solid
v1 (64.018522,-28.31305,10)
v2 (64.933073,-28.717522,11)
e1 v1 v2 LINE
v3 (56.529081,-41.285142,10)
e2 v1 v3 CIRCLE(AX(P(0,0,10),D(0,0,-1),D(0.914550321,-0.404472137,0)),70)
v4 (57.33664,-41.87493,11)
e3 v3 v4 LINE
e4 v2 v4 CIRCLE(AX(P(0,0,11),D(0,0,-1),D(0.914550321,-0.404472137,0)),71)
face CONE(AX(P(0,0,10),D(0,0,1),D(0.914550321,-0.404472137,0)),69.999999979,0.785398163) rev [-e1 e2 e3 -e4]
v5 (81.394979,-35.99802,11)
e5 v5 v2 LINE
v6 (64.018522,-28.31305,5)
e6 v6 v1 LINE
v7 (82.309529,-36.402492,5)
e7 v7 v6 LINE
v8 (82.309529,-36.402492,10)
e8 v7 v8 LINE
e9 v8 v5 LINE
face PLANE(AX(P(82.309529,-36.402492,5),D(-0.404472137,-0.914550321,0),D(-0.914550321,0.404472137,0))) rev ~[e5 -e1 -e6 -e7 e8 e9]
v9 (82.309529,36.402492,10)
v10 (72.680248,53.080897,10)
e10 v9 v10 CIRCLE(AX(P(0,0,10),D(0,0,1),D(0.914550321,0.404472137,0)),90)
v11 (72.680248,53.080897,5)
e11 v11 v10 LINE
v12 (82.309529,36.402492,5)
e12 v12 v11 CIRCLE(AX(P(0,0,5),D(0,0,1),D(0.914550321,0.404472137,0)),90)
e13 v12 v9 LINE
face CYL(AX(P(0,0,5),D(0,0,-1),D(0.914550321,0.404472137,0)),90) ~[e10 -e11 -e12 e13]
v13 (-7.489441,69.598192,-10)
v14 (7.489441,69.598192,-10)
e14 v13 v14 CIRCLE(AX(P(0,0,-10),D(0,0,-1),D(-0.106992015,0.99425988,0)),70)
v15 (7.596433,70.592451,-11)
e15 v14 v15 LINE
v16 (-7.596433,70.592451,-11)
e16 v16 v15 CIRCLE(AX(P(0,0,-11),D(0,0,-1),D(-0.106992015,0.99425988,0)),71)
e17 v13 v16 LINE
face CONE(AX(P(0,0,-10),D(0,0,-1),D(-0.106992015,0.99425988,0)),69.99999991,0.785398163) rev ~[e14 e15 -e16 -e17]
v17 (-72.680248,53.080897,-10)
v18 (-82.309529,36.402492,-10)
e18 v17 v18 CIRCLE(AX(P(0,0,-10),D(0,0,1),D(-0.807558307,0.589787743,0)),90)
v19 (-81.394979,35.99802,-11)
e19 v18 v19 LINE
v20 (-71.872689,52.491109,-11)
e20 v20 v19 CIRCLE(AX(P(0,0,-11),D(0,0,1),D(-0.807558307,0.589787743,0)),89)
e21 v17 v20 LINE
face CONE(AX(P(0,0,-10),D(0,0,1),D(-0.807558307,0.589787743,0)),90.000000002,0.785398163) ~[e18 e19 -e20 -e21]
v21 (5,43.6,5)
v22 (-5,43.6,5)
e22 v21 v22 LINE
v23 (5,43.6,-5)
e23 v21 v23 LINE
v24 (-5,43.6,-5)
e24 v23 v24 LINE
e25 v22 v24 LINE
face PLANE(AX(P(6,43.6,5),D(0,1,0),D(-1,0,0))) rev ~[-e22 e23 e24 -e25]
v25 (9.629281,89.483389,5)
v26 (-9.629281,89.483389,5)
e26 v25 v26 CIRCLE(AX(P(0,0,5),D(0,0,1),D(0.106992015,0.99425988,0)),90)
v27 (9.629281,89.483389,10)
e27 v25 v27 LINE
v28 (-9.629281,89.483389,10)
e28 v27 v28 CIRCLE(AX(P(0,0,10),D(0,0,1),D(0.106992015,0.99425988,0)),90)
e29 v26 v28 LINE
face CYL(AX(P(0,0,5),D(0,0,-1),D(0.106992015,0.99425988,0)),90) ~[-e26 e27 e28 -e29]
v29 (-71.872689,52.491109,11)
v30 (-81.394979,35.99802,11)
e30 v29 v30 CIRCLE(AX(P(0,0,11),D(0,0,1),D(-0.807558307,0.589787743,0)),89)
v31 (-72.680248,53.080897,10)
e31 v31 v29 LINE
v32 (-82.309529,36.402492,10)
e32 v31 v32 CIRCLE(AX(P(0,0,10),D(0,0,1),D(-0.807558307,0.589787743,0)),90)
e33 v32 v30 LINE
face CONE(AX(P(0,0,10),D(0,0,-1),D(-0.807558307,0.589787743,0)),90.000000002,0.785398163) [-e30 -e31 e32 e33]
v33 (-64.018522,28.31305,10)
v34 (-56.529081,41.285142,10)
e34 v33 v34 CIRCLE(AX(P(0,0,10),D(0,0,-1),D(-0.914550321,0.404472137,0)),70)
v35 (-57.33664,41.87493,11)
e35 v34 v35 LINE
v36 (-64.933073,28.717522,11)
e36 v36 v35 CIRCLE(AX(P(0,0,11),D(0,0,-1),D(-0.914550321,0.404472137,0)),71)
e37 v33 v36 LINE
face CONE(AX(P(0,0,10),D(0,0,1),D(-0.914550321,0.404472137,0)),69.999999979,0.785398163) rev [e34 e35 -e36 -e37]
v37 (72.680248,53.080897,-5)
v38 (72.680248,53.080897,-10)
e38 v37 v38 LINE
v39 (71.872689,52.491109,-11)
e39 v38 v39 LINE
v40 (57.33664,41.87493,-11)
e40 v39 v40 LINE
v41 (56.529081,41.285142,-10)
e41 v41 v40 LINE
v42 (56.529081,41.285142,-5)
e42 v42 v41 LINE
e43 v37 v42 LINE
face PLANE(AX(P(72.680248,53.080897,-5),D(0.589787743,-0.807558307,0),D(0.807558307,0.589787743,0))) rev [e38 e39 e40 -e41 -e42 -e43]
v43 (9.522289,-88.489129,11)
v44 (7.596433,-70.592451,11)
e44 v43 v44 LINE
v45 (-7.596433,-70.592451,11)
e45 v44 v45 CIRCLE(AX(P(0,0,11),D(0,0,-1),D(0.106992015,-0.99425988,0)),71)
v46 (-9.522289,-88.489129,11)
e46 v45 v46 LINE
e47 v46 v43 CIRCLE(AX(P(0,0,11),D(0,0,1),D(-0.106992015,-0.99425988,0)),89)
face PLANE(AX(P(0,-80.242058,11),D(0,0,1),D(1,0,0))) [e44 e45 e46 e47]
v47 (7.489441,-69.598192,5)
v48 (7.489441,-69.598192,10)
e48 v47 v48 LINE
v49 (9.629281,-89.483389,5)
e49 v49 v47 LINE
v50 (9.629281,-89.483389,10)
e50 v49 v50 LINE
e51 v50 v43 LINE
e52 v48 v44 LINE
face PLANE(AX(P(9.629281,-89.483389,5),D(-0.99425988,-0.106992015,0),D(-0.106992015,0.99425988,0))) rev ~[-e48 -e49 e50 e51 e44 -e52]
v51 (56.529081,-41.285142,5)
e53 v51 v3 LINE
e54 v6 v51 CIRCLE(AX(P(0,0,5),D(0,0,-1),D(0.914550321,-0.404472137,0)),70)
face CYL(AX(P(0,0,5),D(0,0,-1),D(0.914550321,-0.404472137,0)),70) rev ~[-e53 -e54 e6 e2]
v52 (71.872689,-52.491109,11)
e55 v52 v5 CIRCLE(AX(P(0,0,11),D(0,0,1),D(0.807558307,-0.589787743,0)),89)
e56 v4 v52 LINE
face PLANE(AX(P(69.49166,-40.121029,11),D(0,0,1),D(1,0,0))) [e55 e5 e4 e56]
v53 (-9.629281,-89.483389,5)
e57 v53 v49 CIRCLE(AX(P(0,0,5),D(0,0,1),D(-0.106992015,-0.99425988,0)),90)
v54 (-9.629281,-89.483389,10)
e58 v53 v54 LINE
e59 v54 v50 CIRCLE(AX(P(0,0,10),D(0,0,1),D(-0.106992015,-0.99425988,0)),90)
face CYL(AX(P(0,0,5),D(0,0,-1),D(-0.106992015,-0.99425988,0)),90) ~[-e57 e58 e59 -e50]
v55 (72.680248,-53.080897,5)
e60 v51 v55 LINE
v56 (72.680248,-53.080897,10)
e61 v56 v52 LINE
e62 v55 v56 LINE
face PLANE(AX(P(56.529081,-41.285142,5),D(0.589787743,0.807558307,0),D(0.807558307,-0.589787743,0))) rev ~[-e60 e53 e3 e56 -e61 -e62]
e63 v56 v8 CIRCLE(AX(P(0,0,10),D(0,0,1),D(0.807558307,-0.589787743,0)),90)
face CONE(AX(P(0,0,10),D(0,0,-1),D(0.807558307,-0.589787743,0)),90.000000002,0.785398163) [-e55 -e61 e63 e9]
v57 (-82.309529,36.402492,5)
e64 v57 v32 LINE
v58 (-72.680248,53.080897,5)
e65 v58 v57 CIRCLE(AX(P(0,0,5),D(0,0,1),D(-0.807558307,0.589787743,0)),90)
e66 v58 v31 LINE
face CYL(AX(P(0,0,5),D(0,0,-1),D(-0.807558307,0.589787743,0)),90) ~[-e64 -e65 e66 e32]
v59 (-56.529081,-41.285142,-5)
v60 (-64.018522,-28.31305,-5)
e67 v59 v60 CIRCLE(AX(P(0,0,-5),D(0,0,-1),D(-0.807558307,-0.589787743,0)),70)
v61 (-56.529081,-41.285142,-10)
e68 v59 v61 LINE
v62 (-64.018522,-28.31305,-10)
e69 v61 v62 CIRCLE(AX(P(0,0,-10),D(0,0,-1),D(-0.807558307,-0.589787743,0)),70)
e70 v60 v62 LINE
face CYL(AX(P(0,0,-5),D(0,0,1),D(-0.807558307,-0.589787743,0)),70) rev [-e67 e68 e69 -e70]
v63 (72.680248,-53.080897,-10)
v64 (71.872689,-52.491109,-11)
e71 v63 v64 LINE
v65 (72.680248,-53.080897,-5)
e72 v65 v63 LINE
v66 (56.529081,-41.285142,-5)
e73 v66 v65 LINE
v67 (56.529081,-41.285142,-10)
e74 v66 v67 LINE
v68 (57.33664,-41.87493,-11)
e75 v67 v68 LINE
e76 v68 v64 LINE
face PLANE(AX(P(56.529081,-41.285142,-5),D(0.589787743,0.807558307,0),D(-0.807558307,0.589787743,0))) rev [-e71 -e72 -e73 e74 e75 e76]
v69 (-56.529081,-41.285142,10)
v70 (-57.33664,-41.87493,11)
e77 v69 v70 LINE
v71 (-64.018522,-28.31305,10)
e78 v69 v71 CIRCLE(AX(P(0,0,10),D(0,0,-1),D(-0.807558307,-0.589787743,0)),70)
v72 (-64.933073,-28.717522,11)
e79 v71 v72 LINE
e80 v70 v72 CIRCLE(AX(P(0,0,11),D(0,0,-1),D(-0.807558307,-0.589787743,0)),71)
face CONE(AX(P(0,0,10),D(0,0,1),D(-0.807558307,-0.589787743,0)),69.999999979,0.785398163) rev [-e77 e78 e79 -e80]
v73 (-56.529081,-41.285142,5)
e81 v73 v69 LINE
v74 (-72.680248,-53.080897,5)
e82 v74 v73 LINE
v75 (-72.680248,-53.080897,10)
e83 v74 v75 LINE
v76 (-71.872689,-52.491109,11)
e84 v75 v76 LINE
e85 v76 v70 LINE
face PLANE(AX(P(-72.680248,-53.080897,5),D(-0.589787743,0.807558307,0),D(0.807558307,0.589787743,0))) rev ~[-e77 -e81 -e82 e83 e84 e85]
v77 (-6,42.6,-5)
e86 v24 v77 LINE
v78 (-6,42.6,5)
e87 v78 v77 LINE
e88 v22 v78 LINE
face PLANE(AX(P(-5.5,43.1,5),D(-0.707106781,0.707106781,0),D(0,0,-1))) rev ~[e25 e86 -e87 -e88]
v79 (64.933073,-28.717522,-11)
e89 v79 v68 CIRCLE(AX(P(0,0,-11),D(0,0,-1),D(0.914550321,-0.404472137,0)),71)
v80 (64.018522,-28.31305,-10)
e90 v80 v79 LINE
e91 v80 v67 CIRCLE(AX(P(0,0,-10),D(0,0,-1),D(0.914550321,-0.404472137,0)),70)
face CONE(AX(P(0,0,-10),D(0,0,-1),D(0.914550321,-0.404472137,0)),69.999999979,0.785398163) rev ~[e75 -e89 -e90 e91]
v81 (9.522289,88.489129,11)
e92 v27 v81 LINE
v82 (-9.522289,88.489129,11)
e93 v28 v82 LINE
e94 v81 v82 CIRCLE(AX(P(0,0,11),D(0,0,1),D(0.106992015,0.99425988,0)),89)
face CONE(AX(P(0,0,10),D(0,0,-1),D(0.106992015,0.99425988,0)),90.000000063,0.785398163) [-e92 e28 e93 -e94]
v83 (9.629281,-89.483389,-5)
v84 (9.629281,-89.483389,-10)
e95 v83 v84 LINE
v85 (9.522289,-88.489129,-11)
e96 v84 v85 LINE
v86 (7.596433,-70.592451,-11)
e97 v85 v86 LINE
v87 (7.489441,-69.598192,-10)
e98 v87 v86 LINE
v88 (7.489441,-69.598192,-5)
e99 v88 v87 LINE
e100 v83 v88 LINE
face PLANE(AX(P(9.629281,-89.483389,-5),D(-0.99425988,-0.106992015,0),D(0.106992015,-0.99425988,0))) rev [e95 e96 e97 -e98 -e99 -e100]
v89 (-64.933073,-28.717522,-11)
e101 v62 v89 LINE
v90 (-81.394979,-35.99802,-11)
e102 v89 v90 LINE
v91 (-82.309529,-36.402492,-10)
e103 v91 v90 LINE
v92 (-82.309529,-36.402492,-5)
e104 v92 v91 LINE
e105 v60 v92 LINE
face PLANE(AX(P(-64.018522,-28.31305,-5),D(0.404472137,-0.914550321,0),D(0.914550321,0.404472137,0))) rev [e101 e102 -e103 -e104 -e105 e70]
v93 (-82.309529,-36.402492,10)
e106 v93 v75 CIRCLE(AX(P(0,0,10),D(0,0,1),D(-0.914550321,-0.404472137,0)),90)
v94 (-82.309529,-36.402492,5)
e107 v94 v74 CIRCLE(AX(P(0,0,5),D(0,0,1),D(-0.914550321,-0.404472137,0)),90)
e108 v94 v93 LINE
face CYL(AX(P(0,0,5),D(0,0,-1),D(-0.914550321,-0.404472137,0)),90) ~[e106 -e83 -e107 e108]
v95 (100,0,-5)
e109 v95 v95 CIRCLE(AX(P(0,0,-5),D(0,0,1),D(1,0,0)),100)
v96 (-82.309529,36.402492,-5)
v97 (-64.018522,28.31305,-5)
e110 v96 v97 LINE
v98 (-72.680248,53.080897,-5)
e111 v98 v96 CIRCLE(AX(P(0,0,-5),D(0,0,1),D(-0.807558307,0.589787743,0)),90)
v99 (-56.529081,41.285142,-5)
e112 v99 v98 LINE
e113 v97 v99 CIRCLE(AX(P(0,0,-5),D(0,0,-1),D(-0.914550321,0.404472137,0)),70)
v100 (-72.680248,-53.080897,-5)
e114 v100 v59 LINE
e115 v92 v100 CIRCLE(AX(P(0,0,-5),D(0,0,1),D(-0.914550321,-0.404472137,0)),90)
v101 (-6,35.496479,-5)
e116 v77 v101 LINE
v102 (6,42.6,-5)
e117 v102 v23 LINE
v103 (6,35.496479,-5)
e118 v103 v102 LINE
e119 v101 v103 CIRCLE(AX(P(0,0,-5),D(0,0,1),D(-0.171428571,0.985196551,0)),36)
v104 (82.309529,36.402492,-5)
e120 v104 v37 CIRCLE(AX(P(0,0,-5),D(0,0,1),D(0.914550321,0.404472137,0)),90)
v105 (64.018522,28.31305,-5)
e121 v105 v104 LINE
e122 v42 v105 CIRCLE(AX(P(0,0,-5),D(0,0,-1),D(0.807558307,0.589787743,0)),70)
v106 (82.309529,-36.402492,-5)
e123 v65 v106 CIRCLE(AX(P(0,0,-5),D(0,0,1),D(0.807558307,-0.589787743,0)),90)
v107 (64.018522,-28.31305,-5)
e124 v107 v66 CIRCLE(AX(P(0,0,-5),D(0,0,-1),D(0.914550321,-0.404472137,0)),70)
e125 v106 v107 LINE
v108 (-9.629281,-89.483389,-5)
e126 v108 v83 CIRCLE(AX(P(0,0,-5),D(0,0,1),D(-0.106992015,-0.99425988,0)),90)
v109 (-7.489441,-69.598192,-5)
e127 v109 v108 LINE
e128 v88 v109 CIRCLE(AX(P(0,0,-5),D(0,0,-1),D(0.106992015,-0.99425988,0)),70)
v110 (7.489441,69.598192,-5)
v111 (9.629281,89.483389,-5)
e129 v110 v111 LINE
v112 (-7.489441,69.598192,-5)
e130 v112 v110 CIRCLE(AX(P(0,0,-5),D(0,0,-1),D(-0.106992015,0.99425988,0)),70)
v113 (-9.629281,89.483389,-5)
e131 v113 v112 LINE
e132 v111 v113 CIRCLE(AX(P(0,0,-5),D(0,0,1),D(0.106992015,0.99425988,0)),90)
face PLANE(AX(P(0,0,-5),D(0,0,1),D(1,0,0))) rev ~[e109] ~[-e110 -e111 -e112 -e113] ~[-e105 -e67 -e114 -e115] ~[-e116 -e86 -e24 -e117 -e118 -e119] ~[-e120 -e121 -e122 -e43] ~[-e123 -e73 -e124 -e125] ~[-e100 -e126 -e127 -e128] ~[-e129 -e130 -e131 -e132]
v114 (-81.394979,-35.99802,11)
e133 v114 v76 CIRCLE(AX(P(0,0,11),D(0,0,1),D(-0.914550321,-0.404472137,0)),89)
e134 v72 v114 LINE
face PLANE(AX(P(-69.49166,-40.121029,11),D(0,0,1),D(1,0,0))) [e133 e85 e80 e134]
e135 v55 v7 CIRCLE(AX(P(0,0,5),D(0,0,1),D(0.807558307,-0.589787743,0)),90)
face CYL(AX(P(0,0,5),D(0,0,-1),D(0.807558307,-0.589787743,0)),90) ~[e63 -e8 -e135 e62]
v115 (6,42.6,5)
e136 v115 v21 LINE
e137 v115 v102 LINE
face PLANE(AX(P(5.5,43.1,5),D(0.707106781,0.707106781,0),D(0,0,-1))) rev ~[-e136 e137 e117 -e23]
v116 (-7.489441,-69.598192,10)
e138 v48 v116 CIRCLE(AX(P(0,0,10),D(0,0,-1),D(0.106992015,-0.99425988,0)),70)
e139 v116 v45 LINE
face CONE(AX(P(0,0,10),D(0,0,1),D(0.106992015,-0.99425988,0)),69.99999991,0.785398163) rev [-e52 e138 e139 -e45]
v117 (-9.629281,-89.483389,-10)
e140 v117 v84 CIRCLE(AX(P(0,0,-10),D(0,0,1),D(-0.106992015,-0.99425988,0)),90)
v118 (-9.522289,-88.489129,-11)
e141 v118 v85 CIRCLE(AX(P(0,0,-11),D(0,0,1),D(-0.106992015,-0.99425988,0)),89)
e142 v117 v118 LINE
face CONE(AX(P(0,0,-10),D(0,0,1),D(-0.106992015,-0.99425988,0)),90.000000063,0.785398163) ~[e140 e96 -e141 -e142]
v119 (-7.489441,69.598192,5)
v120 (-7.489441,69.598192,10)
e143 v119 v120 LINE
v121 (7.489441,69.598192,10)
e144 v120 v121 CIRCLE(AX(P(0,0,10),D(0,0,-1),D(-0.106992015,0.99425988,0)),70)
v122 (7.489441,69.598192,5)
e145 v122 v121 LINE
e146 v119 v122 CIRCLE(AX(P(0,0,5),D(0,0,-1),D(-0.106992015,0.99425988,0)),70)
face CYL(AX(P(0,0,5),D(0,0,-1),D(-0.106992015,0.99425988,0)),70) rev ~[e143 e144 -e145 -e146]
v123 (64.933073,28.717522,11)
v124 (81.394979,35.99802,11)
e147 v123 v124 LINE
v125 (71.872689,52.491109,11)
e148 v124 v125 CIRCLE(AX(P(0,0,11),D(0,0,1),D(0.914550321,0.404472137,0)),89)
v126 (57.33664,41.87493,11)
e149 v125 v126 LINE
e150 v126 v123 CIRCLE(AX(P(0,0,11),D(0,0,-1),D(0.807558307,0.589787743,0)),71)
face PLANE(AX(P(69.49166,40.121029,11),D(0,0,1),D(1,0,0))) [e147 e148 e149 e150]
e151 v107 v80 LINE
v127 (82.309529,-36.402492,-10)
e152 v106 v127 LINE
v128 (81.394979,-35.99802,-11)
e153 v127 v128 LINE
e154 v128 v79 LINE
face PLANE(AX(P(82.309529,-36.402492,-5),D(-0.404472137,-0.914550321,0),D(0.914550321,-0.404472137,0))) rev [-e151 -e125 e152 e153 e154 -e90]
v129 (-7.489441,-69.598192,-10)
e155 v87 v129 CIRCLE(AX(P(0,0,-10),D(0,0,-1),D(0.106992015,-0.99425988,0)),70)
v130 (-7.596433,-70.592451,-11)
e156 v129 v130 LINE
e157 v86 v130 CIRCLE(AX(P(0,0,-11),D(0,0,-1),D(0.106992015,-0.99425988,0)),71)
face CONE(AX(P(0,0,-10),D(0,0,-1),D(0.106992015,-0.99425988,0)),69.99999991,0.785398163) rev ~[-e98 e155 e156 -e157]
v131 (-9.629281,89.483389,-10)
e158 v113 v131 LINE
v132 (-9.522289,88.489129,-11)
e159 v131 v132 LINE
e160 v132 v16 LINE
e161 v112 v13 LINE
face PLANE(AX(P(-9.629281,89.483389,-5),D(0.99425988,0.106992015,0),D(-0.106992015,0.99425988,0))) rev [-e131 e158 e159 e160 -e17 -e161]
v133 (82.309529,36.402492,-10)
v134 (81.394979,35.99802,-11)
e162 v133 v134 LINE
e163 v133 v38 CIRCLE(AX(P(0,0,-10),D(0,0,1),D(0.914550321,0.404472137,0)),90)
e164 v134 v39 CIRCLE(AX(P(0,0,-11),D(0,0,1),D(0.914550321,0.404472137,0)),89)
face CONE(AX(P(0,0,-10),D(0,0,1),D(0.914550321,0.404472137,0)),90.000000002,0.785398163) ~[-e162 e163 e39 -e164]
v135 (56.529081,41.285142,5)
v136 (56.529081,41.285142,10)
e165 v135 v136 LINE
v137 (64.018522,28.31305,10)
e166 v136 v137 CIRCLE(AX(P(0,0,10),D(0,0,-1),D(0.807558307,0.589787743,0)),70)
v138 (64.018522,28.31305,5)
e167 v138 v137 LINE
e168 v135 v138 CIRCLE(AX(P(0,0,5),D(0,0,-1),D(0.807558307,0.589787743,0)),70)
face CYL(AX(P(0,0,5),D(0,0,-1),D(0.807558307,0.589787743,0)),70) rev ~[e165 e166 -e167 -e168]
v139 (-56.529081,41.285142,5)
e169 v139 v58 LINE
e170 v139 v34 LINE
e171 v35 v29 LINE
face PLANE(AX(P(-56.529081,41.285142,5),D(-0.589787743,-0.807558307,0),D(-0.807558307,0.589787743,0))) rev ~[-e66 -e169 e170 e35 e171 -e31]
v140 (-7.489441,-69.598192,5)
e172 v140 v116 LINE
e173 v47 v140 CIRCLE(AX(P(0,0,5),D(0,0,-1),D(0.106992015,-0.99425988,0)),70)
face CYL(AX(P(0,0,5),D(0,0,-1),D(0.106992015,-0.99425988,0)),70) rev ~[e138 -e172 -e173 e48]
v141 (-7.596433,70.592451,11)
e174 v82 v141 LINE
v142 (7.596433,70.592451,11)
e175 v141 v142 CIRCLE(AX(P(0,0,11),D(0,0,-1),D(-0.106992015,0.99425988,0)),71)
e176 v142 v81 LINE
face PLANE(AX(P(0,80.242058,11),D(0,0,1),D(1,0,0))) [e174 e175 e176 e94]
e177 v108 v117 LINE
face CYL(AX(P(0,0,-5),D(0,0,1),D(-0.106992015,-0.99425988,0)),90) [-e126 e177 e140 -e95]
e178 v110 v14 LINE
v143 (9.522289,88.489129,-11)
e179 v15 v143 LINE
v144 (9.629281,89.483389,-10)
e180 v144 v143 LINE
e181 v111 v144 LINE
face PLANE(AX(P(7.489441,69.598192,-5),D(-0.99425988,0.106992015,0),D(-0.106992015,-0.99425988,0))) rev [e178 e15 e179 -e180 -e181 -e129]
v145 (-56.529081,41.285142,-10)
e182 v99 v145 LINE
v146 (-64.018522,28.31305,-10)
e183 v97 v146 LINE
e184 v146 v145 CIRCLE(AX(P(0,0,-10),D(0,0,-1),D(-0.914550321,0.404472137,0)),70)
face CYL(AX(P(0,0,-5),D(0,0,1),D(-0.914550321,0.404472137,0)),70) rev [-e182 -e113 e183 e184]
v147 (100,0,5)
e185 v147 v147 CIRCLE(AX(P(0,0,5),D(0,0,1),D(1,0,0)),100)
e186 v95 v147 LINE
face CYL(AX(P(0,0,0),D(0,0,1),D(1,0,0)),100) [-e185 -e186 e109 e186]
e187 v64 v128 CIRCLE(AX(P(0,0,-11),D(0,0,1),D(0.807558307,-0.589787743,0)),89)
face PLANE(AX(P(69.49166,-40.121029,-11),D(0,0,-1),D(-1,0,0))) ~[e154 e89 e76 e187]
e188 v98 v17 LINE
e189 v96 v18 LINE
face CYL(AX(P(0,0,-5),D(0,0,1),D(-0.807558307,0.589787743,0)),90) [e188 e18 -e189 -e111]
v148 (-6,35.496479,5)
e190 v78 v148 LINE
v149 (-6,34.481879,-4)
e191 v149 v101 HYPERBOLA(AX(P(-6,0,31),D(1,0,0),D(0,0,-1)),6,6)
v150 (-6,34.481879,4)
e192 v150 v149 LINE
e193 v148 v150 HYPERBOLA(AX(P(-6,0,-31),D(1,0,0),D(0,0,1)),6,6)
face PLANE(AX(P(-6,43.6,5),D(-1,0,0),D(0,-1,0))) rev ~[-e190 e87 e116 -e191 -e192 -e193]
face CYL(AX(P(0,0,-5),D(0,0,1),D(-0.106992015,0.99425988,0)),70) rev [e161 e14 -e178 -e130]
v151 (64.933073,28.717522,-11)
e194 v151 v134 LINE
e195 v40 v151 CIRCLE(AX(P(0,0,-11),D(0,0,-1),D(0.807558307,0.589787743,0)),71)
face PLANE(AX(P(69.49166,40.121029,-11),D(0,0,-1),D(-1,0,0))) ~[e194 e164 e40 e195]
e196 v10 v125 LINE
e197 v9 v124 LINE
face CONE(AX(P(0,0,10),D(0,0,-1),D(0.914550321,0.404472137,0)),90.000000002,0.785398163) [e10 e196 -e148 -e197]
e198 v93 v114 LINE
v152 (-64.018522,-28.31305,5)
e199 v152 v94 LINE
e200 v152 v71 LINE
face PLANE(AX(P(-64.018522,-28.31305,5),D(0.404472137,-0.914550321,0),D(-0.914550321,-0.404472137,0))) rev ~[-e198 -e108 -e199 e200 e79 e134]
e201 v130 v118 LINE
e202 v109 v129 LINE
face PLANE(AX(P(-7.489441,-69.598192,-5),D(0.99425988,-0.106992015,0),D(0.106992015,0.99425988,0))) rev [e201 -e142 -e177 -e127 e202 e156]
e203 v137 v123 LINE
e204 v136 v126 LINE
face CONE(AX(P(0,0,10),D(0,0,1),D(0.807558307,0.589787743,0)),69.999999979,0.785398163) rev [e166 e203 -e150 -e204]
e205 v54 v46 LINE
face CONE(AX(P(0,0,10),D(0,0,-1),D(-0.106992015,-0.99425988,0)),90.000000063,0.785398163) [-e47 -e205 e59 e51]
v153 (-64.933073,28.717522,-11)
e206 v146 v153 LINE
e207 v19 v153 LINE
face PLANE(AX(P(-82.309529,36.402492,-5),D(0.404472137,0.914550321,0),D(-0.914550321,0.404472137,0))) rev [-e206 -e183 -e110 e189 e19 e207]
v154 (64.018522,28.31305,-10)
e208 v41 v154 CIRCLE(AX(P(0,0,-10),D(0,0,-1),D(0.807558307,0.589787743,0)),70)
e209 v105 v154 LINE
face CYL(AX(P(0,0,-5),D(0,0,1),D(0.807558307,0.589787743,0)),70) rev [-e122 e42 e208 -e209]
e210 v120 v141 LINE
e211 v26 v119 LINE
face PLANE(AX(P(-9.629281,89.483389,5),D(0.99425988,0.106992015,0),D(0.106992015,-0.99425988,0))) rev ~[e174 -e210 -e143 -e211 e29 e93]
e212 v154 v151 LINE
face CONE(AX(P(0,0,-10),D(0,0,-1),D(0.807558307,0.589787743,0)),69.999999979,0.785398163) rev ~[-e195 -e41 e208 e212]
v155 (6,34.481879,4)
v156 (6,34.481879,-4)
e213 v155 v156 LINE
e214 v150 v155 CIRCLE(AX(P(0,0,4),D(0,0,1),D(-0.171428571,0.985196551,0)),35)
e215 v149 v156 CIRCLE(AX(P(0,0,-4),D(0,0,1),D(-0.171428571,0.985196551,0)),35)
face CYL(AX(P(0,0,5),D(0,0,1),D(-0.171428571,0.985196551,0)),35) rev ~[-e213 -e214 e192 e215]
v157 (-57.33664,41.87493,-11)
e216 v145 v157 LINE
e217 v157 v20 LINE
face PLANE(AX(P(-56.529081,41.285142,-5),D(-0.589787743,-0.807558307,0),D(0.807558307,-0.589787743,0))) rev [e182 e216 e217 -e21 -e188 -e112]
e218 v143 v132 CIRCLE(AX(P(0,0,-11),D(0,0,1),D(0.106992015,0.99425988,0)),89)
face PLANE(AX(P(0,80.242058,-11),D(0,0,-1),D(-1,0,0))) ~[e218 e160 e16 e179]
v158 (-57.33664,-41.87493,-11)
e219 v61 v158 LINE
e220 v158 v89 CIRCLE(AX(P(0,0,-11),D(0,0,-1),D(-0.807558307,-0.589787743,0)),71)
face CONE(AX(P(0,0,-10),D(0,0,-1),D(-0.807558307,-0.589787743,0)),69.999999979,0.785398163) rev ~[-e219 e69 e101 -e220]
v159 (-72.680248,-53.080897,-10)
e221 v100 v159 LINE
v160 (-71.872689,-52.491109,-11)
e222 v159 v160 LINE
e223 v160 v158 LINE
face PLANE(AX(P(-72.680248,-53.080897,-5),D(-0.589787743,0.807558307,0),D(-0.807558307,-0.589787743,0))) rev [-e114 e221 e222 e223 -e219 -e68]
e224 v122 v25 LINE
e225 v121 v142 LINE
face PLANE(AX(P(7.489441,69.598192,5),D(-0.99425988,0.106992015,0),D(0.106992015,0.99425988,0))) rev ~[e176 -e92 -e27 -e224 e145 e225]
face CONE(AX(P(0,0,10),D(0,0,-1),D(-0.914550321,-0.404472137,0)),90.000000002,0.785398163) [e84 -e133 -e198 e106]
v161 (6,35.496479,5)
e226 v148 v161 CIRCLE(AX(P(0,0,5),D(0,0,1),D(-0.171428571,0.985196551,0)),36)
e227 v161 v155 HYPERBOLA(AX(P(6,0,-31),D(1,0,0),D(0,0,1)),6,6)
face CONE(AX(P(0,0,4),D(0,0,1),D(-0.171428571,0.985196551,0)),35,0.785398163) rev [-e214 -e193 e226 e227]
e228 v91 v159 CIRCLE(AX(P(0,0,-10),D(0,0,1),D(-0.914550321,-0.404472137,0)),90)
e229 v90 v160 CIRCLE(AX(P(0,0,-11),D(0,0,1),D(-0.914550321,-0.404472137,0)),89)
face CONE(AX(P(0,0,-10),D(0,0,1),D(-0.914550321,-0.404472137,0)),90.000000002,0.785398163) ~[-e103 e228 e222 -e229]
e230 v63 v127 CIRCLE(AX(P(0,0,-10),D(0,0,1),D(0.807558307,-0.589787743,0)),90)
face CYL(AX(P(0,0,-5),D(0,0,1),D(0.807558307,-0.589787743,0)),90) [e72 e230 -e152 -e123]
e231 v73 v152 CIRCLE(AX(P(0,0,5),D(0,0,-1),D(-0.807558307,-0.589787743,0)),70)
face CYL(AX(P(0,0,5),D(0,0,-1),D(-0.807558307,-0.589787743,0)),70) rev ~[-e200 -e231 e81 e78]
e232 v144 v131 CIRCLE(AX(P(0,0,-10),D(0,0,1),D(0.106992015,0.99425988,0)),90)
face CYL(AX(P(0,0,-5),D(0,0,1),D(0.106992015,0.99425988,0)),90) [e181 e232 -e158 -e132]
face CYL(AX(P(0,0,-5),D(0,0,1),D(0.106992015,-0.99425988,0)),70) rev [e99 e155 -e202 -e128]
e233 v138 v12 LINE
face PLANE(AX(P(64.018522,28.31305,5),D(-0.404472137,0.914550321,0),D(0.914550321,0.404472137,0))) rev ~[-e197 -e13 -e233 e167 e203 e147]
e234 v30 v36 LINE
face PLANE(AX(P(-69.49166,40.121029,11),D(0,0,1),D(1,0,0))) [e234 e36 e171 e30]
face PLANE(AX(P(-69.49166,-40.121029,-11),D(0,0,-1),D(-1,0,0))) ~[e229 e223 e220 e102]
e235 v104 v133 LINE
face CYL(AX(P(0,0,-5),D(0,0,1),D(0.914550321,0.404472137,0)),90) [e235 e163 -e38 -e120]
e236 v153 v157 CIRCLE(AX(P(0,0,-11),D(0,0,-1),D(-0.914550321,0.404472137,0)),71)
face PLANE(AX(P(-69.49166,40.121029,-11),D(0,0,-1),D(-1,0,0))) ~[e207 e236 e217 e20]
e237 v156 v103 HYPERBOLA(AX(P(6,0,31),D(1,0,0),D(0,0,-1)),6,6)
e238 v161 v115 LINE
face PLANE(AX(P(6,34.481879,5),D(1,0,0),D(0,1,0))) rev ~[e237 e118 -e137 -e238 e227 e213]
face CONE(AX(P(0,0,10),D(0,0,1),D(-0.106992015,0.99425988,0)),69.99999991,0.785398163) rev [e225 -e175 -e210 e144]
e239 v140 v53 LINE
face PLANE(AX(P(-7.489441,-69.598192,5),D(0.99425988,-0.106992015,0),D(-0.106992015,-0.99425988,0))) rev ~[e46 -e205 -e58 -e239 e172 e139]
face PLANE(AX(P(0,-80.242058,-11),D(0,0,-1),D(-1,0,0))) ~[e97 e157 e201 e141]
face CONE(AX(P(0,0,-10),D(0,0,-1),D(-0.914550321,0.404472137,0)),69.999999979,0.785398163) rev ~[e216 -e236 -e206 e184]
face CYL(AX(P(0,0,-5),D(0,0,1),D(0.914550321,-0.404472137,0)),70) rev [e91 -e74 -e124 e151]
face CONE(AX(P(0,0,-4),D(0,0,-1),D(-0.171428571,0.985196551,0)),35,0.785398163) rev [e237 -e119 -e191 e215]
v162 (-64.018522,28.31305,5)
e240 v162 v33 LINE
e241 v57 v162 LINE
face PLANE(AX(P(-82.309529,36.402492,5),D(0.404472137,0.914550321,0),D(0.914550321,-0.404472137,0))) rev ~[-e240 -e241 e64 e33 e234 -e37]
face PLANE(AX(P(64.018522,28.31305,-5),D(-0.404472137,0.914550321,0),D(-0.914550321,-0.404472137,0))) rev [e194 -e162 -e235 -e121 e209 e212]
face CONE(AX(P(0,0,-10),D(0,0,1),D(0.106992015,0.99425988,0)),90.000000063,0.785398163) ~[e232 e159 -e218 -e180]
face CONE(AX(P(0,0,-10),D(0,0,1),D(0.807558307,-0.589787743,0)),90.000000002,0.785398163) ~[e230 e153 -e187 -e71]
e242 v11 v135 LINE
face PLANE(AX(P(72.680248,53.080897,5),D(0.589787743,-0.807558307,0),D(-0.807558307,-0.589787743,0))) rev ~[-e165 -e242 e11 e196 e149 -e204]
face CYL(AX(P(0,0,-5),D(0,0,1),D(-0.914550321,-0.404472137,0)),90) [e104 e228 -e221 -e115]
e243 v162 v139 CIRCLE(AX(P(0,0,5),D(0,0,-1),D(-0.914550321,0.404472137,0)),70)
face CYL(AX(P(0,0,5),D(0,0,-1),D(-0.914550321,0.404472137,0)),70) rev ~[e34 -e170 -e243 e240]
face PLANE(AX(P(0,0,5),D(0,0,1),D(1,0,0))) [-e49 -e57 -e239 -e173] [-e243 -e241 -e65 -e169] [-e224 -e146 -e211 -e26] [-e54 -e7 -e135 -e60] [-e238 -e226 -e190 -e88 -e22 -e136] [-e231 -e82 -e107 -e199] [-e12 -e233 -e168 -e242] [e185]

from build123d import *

# Parameters (mm, degrees)
SKETCH1_R                = 100
BOSS_EXTRUDE1_DEPTH      = 5
CUT_EXTRUDE1_DEPTH       = 11
BOSS_EXTRUDE3_DEPTH      = 6
CHAMFER1_SIZE            = 1
CHAMFER2_SIZE            = 1
CHAMFER3_SIZE            = 1
CHAMFER1_OF_MIRROR1_SIZE = 1


with BuildPart() as part:
    # Sketch1 → Boss-Extrude1 (new body, symmetric)
    with BuildSketch(Plane.XY):
        Circle(SKETCH1_R)
    extrude(amount=BOSS_EXTRUDE1_DEPTH, both=True)

    # Sketch2 → Cut-Extrude1 (cut, through all)
    with BuildSketch(Plane.XY.offset(5)):
        with BuildLine():
            Line((6, 34.481879299), (6, 43.6))
            Line((6, 43.6), (-6, 43.6))
            Line((-6, 43.6), (-6, 34.481879299))
            ThreePointArc((-6, 34.481879299), (0, -35), (6, 34.481879299))
        make_face()
    extrude(amount=-CUT_EXTRUDE1_DEPTH, mode=Mode.SUBTRACT)

    # Sketch3 → Boss-Extrude3 (add)
    with BuildSketch(Plane.XY.offset(5)):
        with BuildLine():
            ThreePointArc((-7.489441028, 69.598191593), (0, 70), (7.489441028, 69.598191593))
            Line((7.489441028, 69.598191593), (9.629281322, 89.483389192))
            ThreePointArc((9.629281322, 89.483389192), (0, 90), (-9.629281322, 89.483389192))
            Line((-9.629281322, 89.483389192), (-7.489441028, 69.598191593))
        make_face()
        with BuildLine():
            ThreePointArc((-64.018522492, 28.313049606), (-60.621778265, 35), (-56.529081463, 41.285141987))
            Line((-56.529081463, 41.285141987), (-72.680247596, 53.080896841))
            ThreePointArc((-72.680247596, 53.080896841), (-77.942286341, 45), (-82.309528918, 36.402492351))
            Line((-82.309528918, 36.402492351), (-64.018522492, 28.313049606))
        make_face()
        with BuildLine():
            ThreePointArc((-56.529081463, -41.285141987), (-60.621778265, -35), (-64.018522492, -28.313049606))
            Line((-64.018522492, -28.313049606), (-82.309528918, -36.402492351))
            ThreePointArc((-82.309528918, -36.402492351), (-77.942286341, -45), (-72.680247596, -53.080896841))
            Line((-72.680247596, -53.080896841), (-56.529081463, -41.285141987))
        make_face()
        with BuildLine():
            ThreePointArc((7.489441028, -69.598191593), (0, -70), (-7.489441028, -69.598191593))
            Line((-7.489441028, -69.598191593), (-9.629281322, -89.483389192))
            ThreePointArc((-9.629281322, -89.483389192), (0, -90), (9.629281322, -89.483389192))
            Line((9.629281322, -89.483389192), (7.489441028, -69.598191593))
        make_face()
        with BuildLine():
            ThreePointArc((64.018522492, -28.313049606), (60.621778265, -35), (56.529081463, -41.285141987))
            Line((56.529081463, -41.285141987), (72.680247596, -53.080896841))
            ThreePointArc((72.680247596, -53.080896841), (77.942286341, -45), (82.309528918, -36.402492351))
            Line((82.309528918, -36.402492351), (64.018522492, -28.313049606))
        make_face()
        with BuildLine():
            ThreePointArc((56.529081463, 41.285141987), (60.621778265, 35), (64.018522492, 28.313049606))
            Line((64.018522492, 28.313049606), (82.309528918, 36.402492351))
            ThreePointArc((82.309528918, 36.402492351), (77.942286341, 45), (72.680247596, 53.080896841))
            Line((72.680247596, 53.080896841), (56.529081463, 41.285141987))
        make_face()
    boss_extrude3 = extrude(amount=BOSS_EXTRUDE3_DEPTH)

    # Chamfer1
    chamfer1_edges = [part.edges().sort_by_distance(p)[0] for p in [
        (0, 70, 11),
        (0, 90, 11),
        (-60.621778265, 35, 11),
        (-77.942286341, 45, 11),
        (-60.621778265, -35, 11),
        (-77.942286341, -45, 11),
        (0, -70, 11),
        (0, -90, 11),
        (60.621778265, -35, 11),
        (77.942286341, -45, 11),
        (60.621778265, 35, 11),
        (77.942286341, 45, 11),
    ]]
    chamfer(chamfer1_edges, length=CHAMFER1_SIZE)

    # Chamfer2
    chamfer2_edges = [part.edges().sort_by_distance(p)[0] for p in [
        (0, -35, -5),
        (0, -35, 5),
    ]]
    chamfer(chamfer2_edges, length=CHAMFER2_SIZE)

    # Chamfer3
    chamfer3_edges = [part.edges().sort_by_distance(p)[0] for p in [
        (-6, 43.6, 0),
        (6, 43.6, 0),
    ]]
    chamfer(chamfer3_edges, length=CHAMFER3_SIZE)

    # Mirror1: Boss-Extrude3 across plane
    add(boss_extrude3.mirror(Plane.XY))

    # Chamfer1 of Mirror1
    chamfer1_of_mirror1_edges = [part.edges().sort_by_distance(p)[0] for p in [
        (0, 70, -11),
        (0, 90, -11),
        (-60.621778265, 35, -11),
        (-77.942286341, 45, -11),
        (-60.621778265, -35, -11),
        (-77.942286341, -45, -11),
        (0, -70, -11),
        (0, -90, -11),
        (60.621778265, -35, -11),
        (77.942286341, -45, -11),
        (60.621778265, 35, -11),
        (77.942286341, 45, -11),
    ]]
    chamfer(chamfer1_of_mirror1_edges, length=CHAMFER1_OF_MIRROR1_SIZE)


solid = part.part
